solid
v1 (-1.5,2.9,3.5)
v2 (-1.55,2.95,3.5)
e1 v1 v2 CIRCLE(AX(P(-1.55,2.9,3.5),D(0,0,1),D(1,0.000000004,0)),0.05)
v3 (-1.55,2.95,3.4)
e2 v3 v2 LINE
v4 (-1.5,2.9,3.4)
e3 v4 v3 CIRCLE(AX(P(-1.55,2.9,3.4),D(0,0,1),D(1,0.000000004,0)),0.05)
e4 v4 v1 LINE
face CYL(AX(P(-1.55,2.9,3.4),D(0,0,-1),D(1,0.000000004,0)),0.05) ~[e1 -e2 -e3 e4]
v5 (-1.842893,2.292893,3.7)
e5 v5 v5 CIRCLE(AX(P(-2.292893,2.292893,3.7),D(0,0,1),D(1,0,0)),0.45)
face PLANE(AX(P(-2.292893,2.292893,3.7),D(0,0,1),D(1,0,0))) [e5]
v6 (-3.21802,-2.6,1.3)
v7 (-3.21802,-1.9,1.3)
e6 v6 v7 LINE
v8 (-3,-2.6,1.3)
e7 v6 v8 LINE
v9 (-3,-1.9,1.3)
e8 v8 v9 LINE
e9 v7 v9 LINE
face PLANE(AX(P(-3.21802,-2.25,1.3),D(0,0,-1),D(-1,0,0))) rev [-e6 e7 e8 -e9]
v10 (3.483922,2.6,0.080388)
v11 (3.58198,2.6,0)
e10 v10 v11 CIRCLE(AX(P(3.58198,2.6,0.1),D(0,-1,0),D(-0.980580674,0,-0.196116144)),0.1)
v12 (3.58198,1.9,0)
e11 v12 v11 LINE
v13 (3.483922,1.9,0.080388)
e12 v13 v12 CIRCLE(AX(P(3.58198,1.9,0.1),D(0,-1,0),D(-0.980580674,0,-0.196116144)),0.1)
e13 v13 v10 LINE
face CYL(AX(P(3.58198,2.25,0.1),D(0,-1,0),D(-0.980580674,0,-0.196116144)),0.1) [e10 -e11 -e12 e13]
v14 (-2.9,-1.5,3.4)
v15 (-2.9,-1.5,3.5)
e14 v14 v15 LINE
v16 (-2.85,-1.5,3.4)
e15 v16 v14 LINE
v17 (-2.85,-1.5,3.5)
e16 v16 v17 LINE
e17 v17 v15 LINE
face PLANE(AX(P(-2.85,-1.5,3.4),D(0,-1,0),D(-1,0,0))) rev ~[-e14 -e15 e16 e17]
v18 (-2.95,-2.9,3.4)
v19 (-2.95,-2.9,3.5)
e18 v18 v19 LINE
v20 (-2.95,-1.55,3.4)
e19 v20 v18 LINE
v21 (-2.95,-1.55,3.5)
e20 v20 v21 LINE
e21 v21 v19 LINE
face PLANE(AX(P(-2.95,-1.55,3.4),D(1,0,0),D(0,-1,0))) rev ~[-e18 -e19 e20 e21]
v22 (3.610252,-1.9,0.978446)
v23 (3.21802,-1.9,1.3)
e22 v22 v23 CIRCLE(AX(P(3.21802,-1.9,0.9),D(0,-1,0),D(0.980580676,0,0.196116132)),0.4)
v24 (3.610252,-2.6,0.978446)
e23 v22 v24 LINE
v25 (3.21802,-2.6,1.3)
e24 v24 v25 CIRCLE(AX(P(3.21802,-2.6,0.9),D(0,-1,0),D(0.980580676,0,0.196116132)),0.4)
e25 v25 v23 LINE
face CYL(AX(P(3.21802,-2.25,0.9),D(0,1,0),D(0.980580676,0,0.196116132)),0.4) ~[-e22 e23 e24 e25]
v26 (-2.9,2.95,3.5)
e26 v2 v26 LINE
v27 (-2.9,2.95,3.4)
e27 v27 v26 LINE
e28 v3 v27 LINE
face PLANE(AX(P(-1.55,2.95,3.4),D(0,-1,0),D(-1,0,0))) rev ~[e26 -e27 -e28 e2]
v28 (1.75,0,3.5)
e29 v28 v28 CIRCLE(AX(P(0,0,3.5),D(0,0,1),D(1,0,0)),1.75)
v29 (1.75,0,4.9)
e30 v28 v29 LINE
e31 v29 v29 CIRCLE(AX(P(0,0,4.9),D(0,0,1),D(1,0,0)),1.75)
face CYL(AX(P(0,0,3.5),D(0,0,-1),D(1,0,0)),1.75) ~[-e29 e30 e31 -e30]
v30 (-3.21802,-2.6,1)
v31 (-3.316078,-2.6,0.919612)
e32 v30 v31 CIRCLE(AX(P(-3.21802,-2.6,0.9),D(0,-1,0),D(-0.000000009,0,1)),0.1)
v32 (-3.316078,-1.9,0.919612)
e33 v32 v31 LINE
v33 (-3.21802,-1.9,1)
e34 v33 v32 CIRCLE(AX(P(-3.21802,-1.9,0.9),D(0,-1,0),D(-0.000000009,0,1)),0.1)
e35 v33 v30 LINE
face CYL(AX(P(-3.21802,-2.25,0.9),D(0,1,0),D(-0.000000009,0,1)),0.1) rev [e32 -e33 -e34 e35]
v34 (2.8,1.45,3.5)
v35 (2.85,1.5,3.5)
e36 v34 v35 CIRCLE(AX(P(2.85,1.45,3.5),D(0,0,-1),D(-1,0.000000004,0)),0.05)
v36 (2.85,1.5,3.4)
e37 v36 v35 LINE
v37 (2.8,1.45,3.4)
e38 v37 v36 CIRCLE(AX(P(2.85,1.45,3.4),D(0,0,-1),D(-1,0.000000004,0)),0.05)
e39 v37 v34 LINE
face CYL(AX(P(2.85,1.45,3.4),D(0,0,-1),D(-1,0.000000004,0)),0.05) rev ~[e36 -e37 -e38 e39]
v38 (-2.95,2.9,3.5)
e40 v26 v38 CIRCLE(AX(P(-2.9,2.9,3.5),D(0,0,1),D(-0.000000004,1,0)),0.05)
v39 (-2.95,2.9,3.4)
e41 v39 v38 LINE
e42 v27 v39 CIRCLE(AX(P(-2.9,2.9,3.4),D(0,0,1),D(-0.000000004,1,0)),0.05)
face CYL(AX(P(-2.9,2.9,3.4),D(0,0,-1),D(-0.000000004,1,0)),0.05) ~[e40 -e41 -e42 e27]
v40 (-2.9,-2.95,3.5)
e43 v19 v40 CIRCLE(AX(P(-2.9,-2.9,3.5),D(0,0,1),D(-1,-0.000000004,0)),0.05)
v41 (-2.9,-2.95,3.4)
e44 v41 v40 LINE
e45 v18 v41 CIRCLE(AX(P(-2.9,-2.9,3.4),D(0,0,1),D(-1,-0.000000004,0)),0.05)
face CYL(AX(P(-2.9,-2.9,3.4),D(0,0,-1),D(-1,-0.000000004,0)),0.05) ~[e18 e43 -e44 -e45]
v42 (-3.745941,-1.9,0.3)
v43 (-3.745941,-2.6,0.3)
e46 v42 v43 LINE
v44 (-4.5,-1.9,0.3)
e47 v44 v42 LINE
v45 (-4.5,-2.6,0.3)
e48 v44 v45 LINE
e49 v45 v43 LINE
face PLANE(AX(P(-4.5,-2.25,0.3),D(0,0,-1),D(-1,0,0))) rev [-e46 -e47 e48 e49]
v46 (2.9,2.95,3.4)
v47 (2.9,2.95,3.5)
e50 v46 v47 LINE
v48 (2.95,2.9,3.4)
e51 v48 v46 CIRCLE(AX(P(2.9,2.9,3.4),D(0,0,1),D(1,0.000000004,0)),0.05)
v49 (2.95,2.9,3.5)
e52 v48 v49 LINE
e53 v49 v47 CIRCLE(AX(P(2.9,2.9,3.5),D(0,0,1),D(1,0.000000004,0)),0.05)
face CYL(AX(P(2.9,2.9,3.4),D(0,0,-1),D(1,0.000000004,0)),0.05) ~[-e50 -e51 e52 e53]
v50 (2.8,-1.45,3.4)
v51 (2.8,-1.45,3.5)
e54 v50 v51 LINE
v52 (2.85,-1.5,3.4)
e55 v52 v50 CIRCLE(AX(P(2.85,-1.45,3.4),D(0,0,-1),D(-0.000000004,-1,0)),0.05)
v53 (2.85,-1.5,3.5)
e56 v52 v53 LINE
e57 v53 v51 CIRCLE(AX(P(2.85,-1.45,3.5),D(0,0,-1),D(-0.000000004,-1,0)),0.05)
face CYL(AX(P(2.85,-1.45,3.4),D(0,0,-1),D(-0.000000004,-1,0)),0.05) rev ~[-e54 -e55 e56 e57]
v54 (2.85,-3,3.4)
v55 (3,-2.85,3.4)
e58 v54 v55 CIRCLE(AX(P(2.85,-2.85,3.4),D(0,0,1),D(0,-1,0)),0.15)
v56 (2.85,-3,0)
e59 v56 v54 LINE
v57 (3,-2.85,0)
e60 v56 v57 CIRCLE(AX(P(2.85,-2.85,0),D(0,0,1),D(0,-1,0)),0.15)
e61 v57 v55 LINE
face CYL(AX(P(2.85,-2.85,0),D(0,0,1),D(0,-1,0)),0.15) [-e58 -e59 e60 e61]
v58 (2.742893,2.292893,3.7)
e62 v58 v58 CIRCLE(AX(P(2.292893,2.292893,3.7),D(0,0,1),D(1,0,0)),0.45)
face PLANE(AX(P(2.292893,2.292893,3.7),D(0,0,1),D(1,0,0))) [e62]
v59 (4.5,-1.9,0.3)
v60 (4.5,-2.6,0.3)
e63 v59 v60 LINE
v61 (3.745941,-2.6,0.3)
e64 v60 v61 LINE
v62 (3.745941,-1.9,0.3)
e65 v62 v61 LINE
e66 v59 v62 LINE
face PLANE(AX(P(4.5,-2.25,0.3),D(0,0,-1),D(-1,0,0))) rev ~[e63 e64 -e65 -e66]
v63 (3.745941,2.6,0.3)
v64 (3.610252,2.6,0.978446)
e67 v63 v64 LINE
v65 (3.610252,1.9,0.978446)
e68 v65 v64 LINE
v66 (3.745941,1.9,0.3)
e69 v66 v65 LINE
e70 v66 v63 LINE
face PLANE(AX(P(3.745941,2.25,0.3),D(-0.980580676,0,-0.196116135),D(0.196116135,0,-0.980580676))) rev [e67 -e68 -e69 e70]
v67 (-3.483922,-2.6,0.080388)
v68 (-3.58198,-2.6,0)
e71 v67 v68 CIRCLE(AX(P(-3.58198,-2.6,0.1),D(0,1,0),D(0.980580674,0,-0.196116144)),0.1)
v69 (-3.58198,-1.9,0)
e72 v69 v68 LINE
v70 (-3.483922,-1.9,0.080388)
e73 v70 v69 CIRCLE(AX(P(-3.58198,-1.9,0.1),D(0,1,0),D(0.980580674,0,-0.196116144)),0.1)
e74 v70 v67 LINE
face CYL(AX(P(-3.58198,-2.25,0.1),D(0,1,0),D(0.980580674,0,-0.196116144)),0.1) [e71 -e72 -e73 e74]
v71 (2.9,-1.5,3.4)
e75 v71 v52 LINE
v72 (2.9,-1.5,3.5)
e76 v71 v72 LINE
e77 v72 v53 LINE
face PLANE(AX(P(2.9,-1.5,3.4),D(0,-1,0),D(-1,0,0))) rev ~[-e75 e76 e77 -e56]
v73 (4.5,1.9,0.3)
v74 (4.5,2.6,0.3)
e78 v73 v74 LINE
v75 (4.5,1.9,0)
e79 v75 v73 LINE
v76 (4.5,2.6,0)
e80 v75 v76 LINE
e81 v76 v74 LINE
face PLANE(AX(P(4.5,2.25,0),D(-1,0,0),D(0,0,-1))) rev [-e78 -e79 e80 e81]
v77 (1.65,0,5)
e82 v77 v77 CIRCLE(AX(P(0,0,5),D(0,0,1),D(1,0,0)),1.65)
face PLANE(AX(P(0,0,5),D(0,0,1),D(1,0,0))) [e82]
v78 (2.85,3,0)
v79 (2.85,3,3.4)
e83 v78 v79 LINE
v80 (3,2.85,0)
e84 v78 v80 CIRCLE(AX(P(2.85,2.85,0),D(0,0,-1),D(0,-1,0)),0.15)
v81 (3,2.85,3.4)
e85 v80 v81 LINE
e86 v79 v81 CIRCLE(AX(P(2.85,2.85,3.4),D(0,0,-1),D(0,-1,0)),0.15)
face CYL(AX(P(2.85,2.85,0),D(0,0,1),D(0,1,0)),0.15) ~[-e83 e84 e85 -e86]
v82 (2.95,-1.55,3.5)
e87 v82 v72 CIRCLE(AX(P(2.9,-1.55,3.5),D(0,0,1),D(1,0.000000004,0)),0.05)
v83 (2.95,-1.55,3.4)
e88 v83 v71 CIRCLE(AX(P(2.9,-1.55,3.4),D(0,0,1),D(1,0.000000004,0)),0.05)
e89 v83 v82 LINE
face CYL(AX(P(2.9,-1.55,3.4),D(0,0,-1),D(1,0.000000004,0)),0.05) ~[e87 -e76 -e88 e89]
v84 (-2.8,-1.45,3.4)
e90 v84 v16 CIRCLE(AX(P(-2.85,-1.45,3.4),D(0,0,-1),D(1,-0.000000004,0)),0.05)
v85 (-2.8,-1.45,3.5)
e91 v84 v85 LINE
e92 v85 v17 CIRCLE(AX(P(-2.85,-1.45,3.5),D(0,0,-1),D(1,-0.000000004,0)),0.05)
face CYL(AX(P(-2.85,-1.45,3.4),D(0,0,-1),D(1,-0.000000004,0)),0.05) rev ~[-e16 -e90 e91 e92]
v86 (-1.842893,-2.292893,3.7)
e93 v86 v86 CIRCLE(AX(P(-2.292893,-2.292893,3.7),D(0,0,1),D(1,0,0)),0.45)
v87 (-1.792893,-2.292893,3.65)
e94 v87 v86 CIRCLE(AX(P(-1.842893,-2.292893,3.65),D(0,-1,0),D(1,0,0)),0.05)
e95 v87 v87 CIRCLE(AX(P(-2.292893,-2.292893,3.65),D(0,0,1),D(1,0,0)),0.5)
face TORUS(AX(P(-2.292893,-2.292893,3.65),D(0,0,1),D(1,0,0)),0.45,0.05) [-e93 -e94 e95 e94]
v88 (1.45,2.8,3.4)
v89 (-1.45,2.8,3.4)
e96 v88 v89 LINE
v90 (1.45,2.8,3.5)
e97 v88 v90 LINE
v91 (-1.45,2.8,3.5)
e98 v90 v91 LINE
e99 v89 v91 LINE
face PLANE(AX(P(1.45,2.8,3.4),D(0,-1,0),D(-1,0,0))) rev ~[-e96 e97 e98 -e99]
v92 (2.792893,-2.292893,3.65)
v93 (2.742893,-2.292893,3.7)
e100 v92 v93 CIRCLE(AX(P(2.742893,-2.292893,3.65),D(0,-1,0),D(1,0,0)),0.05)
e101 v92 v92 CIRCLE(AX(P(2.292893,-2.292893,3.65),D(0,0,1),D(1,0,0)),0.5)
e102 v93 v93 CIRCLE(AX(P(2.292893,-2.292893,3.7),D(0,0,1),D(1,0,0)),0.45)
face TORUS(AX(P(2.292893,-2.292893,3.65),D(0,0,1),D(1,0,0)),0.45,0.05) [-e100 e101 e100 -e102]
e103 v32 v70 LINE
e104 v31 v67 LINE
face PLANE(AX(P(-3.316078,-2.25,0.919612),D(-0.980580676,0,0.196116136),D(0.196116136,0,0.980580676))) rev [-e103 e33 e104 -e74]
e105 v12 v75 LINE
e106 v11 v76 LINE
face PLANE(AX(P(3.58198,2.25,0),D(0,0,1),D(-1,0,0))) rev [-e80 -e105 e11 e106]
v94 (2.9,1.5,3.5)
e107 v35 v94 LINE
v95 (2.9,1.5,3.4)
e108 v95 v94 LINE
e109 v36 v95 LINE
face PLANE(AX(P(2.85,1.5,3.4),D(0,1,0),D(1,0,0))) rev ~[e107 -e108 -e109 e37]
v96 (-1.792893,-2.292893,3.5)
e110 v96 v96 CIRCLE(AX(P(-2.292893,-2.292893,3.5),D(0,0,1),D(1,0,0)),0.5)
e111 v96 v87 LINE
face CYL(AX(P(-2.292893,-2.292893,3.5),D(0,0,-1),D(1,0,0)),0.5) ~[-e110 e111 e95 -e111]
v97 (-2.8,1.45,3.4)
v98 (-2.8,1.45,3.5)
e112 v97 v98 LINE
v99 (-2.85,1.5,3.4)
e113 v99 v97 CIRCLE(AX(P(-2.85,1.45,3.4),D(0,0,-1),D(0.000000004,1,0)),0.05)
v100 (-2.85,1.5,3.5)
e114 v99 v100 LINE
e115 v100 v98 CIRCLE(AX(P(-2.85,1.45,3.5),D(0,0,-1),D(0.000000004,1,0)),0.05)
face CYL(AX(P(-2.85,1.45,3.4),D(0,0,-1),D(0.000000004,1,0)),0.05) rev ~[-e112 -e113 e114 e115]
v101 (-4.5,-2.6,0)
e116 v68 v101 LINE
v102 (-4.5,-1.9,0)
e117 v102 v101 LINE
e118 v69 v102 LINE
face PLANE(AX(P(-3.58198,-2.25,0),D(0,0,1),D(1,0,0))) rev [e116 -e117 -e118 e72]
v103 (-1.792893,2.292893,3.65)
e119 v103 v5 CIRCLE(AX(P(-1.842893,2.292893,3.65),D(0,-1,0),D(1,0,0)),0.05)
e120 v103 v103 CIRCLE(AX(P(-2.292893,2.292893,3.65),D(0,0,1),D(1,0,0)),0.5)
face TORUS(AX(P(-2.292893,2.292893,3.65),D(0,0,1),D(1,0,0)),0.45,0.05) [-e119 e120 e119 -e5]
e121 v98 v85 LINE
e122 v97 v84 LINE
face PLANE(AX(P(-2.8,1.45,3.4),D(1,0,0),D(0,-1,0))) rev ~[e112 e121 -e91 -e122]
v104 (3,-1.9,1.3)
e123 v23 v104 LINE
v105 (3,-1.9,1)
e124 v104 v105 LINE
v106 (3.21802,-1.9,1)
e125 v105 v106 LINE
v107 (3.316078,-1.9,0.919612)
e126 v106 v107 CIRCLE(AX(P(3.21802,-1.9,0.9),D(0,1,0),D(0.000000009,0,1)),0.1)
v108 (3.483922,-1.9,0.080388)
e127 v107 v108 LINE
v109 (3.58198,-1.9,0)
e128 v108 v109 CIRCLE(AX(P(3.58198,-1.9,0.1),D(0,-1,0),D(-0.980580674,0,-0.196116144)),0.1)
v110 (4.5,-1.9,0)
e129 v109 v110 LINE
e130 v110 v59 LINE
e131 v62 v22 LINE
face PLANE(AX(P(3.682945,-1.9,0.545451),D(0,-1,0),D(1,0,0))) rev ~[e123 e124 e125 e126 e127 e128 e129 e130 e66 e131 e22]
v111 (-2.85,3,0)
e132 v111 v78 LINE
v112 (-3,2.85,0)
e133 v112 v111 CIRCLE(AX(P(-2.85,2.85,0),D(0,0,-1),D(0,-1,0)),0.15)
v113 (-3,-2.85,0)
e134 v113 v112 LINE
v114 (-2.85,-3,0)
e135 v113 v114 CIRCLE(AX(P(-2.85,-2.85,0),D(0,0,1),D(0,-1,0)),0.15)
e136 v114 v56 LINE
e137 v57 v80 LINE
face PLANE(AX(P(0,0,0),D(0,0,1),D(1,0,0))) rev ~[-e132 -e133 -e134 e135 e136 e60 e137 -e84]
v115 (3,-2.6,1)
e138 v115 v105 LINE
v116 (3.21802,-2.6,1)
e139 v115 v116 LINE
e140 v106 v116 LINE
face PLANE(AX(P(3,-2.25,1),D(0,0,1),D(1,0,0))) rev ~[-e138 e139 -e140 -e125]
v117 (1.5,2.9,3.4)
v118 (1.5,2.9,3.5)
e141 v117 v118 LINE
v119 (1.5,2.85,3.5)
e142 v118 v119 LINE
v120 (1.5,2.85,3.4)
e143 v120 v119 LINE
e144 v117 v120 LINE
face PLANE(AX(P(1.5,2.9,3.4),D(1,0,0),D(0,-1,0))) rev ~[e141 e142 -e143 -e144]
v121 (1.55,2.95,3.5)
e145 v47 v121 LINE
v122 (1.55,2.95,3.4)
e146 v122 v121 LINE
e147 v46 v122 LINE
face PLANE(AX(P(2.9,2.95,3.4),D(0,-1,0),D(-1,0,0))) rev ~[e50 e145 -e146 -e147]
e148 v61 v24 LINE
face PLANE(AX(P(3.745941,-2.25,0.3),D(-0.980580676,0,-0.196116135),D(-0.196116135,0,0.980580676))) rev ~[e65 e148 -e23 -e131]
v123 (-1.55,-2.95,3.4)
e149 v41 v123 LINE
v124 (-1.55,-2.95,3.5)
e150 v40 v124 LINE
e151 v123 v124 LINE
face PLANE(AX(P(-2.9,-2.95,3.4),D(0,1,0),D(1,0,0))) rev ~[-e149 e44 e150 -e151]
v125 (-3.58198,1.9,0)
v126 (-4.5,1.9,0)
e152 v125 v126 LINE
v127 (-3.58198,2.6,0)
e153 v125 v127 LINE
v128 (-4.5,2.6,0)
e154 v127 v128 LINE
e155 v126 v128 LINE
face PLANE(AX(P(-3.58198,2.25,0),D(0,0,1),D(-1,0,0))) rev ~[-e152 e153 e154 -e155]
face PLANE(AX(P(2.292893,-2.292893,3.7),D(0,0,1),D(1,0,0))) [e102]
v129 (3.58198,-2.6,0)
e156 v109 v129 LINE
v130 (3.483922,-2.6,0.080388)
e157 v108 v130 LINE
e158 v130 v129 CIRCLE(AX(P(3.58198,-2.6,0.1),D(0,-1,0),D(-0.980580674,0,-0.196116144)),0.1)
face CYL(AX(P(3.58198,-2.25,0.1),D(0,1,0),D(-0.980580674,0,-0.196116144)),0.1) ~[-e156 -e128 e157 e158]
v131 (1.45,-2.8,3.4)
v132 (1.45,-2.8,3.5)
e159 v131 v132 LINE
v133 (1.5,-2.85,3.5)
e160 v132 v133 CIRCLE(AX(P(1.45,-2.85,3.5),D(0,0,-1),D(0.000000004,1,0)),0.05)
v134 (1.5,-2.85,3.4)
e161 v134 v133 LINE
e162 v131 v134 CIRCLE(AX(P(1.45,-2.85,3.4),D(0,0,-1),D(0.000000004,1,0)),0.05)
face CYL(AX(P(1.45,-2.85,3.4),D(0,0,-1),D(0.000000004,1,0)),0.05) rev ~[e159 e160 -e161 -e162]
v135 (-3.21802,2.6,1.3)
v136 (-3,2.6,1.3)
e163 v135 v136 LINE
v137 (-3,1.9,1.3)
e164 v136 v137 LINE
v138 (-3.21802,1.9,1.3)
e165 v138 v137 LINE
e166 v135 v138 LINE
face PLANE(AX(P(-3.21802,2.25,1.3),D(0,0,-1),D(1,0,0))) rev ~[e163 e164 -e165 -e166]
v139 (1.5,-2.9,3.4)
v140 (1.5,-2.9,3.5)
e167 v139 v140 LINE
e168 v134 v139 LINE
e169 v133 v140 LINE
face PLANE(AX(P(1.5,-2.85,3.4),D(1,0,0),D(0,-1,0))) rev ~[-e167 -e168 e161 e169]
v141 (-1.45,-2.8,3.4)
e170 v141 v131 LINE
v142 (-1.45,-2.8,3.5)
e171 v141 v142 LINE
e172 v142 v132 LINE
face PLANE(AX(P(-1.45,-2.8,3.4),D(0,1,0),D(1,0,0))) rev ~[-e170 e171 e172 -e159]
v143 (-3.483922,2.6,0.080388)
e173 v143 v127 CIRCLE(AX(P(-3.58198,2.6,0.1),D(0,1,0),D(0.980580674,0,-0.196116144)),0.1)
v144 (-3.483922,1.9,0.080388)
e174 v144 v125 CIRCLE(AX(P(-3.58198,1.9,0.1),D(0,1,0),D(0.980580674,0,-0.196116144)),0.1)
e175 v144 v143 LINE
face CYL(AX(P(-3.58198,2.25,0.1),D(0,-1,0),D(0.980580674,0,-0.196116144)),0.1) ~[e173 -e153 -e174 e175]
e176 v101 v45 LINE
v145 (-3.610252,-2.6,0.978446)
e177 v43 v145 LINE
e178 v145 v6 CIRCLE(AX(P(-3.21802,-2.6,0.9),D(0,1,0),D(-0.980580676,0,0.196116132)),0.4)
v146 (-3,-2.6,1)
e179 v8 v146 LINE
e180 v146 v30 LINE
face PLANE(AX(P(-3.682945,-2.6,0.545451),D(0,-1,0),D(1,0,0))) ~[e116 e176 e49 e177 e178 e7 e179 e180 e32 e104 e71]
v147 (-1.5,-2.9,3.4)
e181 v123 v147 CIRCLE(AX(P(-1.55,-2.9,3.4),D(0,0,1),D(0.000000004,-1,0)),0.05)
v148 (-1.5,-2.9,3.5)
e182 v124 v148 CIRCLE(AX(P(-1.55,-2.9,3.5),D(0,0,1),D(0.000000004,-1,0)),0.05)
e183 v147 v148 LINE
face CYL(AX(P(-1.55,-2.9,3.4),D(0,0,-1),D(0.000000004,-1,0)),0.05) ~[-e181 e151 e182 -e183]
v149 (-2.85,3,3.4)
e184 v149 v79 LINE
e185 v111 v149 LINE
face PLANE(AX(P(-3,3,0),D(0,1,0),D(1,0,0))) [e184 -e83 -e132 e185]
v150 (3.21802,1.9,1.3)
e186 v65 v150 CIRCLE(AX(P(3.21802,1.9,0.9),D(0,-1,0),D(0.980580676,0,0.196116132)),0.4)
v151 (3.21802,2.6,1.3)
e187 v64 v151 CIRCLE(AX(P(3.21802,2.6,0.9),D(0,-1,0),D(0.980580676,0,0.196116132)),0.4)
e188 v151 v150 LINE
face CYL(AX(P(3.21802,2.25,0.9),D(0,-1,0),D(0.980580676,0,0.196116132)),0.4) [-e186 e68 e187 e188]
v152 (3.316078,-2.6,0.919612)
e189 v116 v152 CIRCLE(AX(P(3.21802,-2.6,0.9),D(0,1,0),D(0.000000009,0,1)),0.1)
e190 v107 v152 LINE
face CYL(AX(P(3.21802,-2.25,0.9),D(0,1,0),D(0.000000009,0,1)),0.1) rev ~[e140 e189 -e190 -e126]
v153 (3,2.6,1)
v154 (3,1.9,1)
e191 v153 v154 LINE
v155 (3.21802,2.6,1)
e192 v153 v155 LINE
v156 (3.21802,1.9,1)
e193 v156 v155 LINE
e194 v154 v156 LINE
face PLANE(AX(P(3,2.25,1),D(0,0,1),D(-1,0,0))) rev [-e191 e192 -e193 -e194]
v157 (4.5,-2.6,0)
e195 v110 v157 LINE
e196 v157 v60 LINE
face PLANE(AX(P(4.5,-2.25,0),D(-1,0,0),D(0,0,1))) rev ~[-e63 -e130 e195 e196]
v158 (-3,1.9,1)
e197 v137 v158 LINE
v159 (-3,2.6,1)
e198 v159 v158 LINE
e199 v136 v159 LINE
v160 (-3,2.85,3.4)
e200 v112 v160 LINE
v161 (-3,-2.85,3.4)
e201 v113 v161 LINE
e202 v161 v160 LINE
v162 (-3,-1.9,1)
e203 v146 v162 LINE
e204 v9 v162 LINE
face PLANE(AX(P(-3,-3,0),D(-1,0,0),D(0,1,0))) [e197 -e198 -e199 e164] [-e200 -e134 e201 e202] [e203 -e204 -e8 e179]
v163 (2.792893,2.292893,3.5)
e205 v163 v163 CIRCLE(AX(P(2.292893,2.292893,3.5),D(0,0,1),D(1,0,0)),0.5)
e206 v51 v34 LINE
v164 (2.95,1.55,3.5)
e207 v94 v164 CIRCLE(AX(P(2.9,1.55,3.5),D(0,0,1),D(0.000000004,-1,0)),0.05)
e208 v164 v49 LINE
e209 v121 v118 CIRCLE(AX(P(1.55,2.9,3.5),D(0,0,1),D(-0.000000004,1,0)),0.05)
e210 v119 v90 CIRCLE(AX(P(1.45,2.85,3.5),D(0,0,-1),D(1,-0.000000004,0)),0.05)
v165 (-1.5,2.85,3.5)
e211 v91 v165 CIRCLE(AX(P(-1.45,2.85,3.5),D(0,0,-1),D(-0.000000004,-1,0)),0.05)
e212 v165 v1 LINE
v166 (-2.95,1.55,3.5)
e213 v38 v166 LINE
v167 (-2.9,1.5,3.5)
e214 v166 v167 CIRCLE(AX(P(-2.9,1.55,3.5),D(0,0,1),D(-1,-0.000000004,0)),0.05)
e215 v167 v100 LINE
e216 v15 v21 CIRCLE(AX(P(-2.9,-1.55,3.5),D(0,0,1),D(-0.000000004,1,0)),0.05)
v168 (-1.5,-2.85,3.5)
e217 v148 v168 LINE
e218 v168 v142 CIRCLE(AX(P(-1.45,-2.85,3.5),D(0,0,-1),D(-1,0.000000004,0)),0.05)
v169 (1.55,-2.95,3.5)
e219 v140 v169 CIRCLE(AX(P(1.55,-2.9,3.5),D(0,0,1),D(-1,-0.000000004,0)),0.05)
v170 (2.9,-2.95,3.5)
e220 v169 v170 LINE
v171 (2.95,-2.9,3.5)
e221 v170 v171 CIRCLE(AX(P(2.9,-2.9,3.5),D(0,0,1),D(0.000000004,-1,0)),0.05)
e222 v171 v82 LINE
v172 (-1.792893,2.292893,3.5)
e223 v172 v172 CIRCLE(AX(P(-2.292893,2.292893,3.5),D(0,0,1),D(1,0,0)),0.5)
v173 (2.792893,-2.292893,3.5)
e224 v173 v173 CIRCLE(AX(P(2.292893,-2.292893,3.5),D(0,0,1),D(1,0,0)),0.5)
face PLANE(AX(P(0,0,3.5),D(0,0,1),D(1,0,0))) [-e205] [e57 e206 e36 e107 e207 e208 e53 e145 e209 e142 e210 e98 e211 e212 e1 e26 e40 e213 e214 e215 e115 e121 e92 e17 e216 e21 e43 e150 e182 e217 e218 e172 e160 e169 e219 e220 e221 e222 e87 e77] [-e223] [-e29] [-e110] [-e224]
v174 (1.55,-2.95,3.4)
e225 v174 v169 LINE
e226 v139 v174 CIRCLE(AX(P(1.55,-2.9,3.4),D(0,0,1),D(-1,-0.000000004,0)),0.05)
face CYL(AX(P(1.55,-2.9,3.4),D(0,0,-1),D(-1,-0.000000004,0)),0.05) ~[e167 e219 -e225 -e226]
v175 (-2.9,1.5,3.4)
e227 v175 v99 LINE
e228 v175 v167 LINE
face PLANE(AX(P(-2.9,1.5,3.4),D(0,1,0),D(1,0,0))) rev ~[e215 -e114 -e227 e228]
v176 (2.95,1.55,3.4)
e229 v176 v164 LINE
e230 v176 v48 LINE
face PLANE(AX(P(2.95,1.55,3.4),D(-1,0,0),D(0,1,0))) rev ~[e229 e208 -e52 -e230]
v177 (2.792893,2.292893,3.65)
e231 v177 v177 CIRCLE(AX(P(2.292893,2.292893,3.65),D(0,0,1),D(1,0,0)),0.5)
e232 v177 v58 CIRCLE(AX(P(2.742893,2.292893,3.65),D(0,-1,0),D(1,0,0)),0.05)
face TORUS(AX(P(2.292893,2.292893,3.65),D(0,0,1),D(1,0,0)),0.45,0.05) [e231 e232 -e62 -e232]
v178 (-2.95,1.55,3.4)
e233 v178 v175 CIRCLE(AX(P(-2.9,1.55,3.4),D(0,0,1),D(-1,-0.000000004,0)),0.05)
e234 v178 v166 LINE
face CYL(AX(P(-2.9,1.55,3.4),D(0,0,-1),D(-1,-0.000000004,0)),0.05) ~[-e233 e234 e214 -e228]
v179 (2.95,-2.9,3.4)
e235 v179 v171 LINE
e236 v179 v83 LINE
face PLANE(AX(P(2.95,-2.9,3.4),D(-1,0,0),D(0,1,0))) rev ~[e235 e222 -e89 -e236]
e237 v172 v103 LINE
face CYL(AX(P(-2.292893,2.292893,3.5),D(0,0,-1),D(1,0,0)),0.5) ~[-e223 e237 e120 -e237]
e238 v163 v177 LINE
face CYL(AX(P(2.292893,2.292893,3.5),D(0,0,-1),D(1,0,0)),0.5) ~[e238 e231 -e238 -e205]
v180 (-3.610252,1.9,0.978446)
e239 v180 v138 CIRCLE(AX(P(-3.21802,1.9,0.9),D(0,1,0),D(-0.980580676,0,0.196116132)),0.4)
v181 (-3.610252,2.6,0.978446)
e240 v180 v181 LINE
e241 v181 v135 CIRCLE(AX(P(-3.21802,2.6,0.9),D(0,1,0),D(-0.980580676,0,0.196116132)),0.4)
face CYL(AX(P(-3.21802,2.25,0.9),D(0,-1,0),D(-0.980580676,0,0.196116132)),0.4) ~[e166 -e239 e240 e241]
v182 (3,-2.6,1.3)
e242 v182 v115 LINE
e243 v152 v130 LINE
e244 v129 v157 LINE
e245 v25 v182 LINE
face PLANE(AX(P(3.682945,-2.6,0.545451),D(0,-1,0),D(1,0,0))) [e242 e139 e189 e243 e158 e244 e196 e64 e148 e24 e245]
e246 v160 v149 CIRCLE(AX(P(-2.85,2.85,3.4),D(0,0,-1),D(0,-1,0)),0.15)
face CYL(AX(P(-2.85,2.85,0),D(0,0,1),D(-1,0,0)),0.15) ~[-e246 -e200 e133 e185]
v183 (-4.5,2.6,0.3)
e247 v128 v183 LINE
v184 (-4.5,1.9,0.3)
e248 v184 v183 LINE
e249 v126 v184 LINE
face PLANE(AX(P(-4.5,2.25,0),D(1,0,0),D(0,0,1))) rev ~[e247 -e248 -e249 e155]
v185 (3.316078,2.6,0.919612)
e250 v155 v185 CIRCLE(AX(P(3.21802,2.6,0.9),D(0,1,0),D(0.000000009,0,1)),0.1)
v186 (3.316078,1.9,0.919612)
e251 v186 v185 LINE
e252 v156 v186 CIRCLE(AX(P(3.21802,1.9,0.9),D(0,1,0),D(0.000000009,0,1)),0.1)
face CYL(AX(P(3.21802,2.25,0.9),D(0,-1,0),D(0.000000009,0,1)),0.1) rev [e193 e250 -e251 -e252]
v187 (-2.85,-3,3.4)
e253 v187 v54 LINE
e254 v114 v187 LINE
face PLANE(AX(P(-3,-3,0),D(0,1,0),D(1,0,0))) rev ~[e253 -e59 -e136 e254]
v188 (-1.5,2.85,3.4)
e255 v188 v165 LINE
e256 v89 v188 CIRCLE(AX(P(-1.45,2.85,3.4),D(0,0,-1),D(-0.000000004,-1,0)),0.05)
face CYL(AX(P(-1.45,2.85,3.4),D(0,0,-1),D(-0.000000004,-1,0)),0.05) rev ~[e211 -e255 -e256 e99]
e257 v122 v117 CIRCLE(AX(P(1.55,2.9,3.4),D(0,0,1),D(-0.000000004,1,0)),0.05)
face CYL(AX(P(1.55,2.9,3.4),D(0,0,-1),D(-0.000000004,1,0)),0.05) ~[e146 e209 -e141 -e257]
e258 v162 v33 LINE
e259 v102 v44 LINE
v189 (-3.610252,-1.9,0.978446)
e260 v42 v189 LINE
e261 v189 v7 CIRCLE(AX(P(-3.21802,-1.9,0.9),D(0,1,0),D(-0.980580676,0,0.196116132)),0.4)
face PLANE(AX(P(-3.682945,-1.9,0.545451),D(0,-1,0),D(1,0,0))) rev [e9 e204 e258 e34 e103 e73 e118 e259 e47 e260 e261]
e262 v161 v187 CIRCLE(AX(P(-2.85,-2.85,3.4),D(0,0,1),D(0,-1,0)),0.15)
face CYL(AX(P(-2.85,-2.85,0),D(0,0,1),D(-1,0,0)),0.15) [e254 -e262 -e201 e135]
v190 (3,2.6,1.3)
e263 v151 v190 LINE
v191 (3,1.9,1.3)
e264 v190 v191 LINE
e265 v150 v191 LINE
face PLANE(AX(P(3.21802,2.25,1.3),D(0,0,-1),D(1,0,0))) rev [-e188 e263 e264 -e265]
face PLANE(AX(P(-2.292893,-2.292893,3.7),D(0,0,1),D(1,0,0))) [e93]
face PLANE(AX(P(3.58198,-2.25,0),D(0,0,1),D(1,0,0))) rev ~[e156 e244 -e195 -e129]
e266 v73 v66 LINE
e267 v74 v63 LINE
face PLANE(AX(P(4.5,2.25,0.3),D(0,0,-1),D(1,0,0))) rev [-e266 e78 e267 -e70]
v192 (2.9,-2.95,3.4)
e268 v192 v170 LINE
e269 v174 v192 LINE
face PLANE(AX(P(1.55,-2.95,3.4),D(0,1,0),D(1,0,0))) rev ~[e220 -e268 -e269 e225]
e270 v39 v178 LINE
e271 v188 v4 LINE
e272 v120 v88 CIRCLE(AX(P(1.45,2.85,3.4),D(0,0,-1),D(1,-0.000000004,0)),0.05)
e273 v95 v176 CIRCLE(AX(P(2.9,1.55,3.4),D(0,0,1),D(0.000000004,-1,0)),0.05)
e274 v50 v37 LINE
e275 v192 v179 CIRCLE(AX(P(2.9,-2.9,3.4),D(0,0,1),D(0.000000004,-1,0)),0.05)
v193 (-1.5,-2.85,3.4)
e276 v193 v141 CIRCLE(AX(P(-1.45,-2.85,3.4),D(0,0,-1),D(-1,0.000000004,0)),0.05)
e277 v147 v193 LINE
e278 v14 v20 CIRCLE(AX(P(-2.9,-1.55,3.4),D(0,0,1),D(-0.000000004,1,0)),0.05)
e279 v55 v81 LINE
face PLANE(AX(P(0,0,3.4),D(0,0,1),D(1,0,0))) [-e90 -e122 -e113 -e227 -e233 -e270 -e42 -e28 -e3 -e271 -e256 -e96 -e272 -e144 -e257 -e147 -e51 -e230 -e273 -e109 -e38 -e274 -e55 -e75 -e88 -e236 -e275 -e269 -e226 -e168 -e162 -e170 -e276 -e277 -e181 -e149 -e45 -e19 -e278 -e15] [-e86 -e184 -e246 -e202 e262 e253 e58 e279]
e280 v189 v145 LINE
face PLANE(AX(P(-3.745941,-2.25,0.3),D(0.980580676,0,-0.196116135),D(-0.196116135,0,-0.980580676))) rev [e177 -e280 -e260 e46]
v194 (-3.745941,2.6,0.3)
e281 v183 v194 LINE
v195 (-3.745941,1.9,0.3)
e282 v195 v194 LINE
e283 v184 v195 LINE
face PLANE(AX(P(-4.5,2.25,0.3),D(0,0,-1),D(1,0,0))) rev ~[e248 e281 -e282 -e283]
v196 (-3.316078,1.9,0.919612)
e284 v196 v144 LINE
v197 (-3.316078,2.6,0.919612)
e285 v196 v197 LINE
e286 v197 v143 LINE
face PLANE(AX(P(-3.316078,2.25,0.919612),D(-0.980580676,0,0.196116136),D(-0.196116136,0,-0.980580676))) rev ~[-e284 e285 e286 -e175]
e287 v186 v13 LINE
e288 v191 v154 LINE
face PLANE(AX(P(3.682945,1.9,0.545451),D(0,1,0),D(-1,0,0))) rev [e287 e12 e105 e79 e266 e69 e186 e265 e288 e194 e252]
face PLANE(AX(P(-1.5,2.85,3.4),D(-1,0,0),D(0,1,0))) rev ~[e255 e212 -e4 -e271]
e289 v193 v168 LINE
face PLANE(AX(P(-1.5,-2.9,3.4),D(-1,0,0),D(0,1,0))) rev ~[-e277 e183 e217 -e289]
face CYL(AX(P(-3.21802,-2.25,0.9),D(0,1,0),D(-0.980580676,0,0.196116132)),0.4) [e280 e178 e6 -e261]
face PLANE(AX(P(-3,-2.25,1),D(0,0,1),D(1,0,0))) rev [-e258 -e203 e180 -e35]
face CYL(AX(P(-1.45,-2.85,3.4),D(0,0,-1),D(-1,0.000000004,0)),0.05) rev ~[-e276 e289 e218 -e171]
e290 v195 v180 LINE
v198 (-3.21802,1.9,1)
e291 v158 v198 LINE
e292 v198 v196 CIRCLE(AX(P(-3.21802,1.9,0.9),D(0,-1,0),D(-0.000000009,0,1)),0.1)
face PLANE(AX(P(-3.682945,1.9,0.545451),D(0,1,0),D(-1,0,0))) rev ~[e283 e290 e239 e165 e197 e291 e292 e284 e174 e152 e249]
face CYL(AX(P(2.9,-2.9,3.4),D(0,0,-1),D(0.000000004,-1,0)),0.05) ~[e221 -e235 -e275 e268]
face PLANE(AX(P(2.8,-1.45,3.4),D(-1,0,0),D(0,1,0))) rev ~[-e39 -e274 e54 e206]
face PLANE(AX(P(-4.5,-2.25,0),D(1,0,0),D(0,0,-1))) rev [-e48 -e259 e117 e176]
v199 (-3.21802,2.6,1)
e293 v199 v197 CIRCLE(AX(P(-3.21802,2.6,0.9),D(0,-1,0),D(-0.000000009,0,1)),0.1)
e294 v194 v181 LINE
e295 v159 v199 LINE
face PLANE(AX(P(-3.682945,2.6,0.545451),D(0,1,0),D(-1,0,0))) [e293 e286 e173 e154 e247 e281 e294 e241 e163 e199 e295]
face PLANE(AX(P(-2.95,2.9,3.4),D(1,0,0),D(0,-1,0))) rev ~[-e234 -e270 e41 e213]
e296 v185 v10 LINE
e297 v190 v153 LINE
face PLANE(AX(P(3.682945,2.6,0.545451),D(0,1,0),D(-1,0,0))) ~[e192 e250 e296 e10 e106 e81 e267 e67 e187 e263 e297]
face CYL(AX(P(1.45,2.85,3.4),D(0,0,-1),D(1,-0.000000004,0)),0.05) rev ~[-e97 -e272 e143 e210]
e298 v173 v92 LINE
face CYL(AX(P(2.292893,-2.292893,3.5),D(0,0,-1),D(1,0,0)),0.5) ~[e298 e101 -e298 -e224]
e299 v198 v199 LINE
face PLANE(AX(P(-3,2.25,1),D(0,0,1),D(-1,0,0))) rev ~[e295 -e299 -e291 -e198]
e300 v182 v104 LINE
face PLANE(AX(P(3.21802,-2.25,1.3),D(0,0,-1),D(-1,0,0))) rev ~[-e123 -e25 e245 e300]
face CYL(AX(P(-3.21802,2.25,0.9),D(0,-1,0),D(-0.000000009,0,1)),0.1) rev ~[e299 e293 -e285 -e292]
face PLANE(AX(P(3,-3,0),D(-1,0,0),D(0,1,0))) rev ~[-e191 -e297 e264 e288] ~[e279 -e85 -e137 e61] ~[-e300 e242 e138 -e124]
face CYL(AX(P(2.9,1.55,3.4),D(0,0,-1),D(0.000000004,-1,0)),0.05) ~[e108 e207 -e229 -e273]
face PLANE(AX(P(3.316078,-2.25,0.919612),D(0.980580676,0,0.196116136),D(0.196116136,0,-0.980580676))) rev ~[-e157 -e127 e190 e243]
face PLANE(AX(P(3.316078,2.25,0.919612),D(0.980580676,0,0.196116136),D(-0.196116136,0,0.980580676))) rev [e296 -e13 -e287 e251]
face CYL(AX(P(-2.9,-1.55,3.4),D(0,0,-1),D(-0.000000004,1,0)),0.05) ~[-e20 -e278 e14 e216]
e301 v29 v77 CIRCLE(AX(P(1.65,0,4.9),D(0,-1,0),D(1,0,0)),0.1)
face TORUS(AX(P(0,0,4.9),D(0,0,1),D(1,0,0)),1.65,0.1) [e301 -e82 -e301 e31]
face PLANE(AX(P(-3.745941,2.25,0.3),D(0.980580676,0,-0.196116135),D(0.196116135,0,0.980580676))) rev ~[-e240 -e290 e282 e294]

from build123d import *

# Parameters (mm, degrees)
SKETCH1_W            = 6
SKETCH1_H            = 6
BASE_EXTRUDE_DEPTH   = 3.4
BOSS_EXTRUDE1_DEPTH  = 0.1
SKETCH4_R            = 1.75
BOSS_EXTRUDE2_DEPTH  = 1.5
FILLET1_R            = 0.1
SKETCH5_R            = 0.5
BOSS_EXTRUDE3_DEPTH  = 0.2
FILLET2_R            = 0.05
BOSS_EXTRUDE4_DEPTH  = 0.35
MIRROR2_COPY_1_DEPTH = 0.35
FILLET3_R            = 0.15


with BuildPart() as part:
    # Sketch1 → Base-Extrude (new body)
    with BuildSketch(Plane.XY):
        Rectangle(SKETCH1_W, SKETCH1_H)
    extrude(amount=BASE_EXTRUDE_DEPTH)

    # Sketch3 → Boss-Extrude1 (add)
    with BuildSketch(Plane.XY.offset(3.4)):
        with BuildLine():
            Line((2.9, 2.95), (1.55, 2.95))
            ThreePointArc((1.55, 2.95), (1.514644661, 2.935355339), (1.5, 2.9))
            Line((1.5, 2.9), (1.5, 2.85))
            ThreePointArc((1.5, 2.85), (1.485355339, 2.814644661), (1.45, 2.8))
            Line((1.45, 2.8), (-1.45, 2.8))
            ThreePointArc((-1.45, 2.8), (-1.485355339, 2.814644661), (-1.5, 2.85))
            Line((-1.5, 2.85), (-1.5, 2.9))
            ThreePointArc((-1.5, 2.9), (-1.514644661, 2.935355339), (-1.55, 2.95))
            Line((-1.55, 2.95), (-2.9, 2.95))
            ThreePointArc((-2.9, 2.95), (-2.935355339, 2.935355339), (-2.95, 2.9))
            Line((-2.95, 2.9), (-2.95, 1.55))
            ThreePointArc((-2.95, 1.55), (-2.935355339, 1.514644661), (-2.9, 1.5))
            Line((-2.9, 1.5), (-2.85, 1.5))
            ThreePointArc((-2.85, 1.5), (-2.814644661, 1.485355339), (-2.8, 1.45))
            Line((-2.8, 1.45), (-2.8, -1.45))
            ThreePointArc((-2.8, -1.45), (-2.814644661, -1.485355339), (-2.85, -1.5))
            Line((-2.85, -1.5), (-2.9, -1.5))
            ThreePointArc((-2.9, -1.5), (-2.935355339, -1.514644661), (-2.95, -1.55))
            Line((-2.95, -1.55), (-2.95, -2.9))
            ThreePointArc((-2.95, -2.9), (-2.935355339, -2.935355339), (-2.9, -2.95))
            Line((-2.9, -2.95), (-1.55, -2.95))
            ThreePointArc((-1.55, -2.95), (-1.514644661, -2.935355339), (-1.5, -2.9))
            Line((-1.5, -2.9), (-1.5, -2.85))
            ThreePointArc((-1.5, -2.85), (-1.485355339, -2.814644661), (-1.45, -2.8))
            Line((-1.45, -2.8), (1.45, -2.8))
            ThreePointArc((1.45, -2.8), (1.485355339, -2.814644661), (1.5, -2.85))
            Line((1.5, -2.85), (1.5, -2.9))
            ThreePointArc((1.5, -2.9), (1.514644661, -2.935355339), (1.55, -2.95))
            Line((1.55, -2.95), (2.9, -2.95))
            ThreePointArc((2.9, -2.95), (2.935355339, -2.935355339), (2.95, -2.9))
            Line((2.95, -2.9), (2.95, -1.55))
            ThreePointArc((2.95, -1.55), (2.935355339, -1.514644661), (2.9, -1.5))
            Line((2.9, -1.5), (2.85, -1.5))
            ThreePointArc((2.85, -1.5), (2.814644661, -1.485355339), (2.8, -1.45))
            Line((2.8, -1.45), (2.8, 1.45))
            ThreePointArc((2.8, 1.45), (2.814644661, 1.485355339), (2.85, 1.5))
            Line((2.85, 1.5), (2.9, 1.5))
            ThreePointArc((2.9, 1.5), (2.935355339, 1.514644661), (2.95, 1.55))
            Line((2.95, 1.55), (2.95, 2.9))
            ThreePointArc((2.95, 2.9), (2.935355339, 2.935355339), (2.9, 2.95))
        make_face()
    extrude(amount=BOSS_EXTRUDE1_DEPTH)

    # Sketch4 → Boss-Extrude2 (add)
    with BuildSketch(Plane.XY.offset(3.5)):
        Circle(SKETCH4_R)
    extrude(amount=BOSS_EXTRUDE2_DEPTH)

    # Fillet1
    fillet1_edges = [part.edges().sort_by_distance(p)[0] for p in [
        (-1.75, 0, 5),
    ]]
    fillet(fillet1_edges, radius=FILLET1_R)

    # Sketch5 → Boss-Extrude3 (add)
    with BuildSketch(Plane.XY.offset(3.5)):
        with Locations((2.292893219, -2.292893219)):
            Circle(SKETCH5_R)
        with Locations((-2.292893219, -2.292893219)):
            Circle(SKETCH5_R)
        with Locations((-2.292893219, 2.292893219)):
            Circle(SKETCH5_R)
        with Locations((2.292893219, 2.292893219)):
            Circle(SKETCH5_R)
    extrude(amount=BOSS_EXTRUDE3_DEPTH)

    # Fillet2
    fillet2_edges = [part.edges().sort_by_distance(p)[0] for p in [
        (1.792893219, -2.292893219, 3.7),
        (-2.792893219, -2.292893219, 3.7),
        (-2.792893219, 2.292893219, 3.7),
        (1.792893219, 2.292893219, 3.7),
    ]]
    fillet(fillet2_edges, radius=FILLET2_R)

    # Sketch6 → Boss-Extrude4 (add, symmetric)
    with BuildSketch(Plane(origin=(0, -2.25, 0), x_dir=(-1, 0, 0), z_dir=(0, 1, 0))):
        with BuildLine():
            Line((-3, 1), (-3.21801961, 1))
            ThreePointArc((-3.21801961, 1), (-3.2814185, 0.977334214), (-3.316077677, 0.919611614))
            Line((-3.316077677, 0.919611614), (-3.483922323, 0.080388386))
            ThreePointArc((-3.483922323, 0.080388386), (-3.5185815, 0.022665786), (-3.58198039, 0))
            Line((-3.58198039, 0), (-4.5, 0))
            Line((-4.5, 0), (-4.5, 0.3))
            Line((-4.5, 0.3), (-3.745941171, 0.3))
            Line((-3.745941171, 0.3), (-3.61025188, 0.978446454))
            ThreePointArc((-3.61025188, 0.978446454), (-3.471615172, 1.209336857), (-3.21801961, 1.3))
            Line((-3.21801961, 1.3), (-3, 1.3))
            Line((-3, 1.3), (-3, 1))
        make_face()
    boss_extrude4 = extrude(amount=BOSS_EXTRUDE4_DEPTH, both=True)

    # Mirror1: Boss-Extrude4 across plane
    add(boss_extrude4.mirror(Plane.ZX))

    # Mirror2: Boss-Extrude4 across plane
    add(boss_extrude4.mirror(Plane(origin=(0, 0, 0), x_dir=(0, 0, 1), z_dir=(1, 0, 0))))

    # Mirror2 copy 1 sketch → Mirror2 copy 1 (add, symmetric)
    with BuildSketch(Plane.XZ.offset(-2.25)):
        with BuildLine():
            Line((-3, 1), (-3.21801961, 1))
            ThreePointArc((-3.21801961, 1), (-3.2814185, 0.977334214), (-3.316077677, 0.919611614))
            Line((-3.316077677, 0.919611614), (-3.483922323, 0.080388386))
            ThreePointArc((-3.483922323, 0.080388386), (-3.5185815, 0.022665786), (-3.58198039, 0))
            Line((-3.58198039, 0), (-4.5, 0))
            Line((-4.5, 0), (-4.5, 0.3))
            Line((-4.5, 0.3), (-3.745941171, 0.3))
            Line((-3.745941171, 0.3), (-3.61025188, 0.978446454))
            ThreePointArc((-3.61025188, 0.978446454), (-3.471615172, 1.209336857), (-3.21801961, 1.3))
            Line((-3.21801961, 1.3), (-3, 1.3))
            Line((-3, 1.3), (-3, 1))
        make_face()
    extrude(amount=MIRROR2_COPY_1_DEPTH, both=True)

    # Fillet3
    fillet3_edges = [part.edges().sort_by_distance(p)[0] for p in [
        (-3, 3, 1.7),
        (3, 3, 1.7),
        (3, -3, 1.7),
        (-3, -3, 1.7),
    ]]
    fillet(fillet3_edges, radius=FILLET3_R)


solid = part.part
